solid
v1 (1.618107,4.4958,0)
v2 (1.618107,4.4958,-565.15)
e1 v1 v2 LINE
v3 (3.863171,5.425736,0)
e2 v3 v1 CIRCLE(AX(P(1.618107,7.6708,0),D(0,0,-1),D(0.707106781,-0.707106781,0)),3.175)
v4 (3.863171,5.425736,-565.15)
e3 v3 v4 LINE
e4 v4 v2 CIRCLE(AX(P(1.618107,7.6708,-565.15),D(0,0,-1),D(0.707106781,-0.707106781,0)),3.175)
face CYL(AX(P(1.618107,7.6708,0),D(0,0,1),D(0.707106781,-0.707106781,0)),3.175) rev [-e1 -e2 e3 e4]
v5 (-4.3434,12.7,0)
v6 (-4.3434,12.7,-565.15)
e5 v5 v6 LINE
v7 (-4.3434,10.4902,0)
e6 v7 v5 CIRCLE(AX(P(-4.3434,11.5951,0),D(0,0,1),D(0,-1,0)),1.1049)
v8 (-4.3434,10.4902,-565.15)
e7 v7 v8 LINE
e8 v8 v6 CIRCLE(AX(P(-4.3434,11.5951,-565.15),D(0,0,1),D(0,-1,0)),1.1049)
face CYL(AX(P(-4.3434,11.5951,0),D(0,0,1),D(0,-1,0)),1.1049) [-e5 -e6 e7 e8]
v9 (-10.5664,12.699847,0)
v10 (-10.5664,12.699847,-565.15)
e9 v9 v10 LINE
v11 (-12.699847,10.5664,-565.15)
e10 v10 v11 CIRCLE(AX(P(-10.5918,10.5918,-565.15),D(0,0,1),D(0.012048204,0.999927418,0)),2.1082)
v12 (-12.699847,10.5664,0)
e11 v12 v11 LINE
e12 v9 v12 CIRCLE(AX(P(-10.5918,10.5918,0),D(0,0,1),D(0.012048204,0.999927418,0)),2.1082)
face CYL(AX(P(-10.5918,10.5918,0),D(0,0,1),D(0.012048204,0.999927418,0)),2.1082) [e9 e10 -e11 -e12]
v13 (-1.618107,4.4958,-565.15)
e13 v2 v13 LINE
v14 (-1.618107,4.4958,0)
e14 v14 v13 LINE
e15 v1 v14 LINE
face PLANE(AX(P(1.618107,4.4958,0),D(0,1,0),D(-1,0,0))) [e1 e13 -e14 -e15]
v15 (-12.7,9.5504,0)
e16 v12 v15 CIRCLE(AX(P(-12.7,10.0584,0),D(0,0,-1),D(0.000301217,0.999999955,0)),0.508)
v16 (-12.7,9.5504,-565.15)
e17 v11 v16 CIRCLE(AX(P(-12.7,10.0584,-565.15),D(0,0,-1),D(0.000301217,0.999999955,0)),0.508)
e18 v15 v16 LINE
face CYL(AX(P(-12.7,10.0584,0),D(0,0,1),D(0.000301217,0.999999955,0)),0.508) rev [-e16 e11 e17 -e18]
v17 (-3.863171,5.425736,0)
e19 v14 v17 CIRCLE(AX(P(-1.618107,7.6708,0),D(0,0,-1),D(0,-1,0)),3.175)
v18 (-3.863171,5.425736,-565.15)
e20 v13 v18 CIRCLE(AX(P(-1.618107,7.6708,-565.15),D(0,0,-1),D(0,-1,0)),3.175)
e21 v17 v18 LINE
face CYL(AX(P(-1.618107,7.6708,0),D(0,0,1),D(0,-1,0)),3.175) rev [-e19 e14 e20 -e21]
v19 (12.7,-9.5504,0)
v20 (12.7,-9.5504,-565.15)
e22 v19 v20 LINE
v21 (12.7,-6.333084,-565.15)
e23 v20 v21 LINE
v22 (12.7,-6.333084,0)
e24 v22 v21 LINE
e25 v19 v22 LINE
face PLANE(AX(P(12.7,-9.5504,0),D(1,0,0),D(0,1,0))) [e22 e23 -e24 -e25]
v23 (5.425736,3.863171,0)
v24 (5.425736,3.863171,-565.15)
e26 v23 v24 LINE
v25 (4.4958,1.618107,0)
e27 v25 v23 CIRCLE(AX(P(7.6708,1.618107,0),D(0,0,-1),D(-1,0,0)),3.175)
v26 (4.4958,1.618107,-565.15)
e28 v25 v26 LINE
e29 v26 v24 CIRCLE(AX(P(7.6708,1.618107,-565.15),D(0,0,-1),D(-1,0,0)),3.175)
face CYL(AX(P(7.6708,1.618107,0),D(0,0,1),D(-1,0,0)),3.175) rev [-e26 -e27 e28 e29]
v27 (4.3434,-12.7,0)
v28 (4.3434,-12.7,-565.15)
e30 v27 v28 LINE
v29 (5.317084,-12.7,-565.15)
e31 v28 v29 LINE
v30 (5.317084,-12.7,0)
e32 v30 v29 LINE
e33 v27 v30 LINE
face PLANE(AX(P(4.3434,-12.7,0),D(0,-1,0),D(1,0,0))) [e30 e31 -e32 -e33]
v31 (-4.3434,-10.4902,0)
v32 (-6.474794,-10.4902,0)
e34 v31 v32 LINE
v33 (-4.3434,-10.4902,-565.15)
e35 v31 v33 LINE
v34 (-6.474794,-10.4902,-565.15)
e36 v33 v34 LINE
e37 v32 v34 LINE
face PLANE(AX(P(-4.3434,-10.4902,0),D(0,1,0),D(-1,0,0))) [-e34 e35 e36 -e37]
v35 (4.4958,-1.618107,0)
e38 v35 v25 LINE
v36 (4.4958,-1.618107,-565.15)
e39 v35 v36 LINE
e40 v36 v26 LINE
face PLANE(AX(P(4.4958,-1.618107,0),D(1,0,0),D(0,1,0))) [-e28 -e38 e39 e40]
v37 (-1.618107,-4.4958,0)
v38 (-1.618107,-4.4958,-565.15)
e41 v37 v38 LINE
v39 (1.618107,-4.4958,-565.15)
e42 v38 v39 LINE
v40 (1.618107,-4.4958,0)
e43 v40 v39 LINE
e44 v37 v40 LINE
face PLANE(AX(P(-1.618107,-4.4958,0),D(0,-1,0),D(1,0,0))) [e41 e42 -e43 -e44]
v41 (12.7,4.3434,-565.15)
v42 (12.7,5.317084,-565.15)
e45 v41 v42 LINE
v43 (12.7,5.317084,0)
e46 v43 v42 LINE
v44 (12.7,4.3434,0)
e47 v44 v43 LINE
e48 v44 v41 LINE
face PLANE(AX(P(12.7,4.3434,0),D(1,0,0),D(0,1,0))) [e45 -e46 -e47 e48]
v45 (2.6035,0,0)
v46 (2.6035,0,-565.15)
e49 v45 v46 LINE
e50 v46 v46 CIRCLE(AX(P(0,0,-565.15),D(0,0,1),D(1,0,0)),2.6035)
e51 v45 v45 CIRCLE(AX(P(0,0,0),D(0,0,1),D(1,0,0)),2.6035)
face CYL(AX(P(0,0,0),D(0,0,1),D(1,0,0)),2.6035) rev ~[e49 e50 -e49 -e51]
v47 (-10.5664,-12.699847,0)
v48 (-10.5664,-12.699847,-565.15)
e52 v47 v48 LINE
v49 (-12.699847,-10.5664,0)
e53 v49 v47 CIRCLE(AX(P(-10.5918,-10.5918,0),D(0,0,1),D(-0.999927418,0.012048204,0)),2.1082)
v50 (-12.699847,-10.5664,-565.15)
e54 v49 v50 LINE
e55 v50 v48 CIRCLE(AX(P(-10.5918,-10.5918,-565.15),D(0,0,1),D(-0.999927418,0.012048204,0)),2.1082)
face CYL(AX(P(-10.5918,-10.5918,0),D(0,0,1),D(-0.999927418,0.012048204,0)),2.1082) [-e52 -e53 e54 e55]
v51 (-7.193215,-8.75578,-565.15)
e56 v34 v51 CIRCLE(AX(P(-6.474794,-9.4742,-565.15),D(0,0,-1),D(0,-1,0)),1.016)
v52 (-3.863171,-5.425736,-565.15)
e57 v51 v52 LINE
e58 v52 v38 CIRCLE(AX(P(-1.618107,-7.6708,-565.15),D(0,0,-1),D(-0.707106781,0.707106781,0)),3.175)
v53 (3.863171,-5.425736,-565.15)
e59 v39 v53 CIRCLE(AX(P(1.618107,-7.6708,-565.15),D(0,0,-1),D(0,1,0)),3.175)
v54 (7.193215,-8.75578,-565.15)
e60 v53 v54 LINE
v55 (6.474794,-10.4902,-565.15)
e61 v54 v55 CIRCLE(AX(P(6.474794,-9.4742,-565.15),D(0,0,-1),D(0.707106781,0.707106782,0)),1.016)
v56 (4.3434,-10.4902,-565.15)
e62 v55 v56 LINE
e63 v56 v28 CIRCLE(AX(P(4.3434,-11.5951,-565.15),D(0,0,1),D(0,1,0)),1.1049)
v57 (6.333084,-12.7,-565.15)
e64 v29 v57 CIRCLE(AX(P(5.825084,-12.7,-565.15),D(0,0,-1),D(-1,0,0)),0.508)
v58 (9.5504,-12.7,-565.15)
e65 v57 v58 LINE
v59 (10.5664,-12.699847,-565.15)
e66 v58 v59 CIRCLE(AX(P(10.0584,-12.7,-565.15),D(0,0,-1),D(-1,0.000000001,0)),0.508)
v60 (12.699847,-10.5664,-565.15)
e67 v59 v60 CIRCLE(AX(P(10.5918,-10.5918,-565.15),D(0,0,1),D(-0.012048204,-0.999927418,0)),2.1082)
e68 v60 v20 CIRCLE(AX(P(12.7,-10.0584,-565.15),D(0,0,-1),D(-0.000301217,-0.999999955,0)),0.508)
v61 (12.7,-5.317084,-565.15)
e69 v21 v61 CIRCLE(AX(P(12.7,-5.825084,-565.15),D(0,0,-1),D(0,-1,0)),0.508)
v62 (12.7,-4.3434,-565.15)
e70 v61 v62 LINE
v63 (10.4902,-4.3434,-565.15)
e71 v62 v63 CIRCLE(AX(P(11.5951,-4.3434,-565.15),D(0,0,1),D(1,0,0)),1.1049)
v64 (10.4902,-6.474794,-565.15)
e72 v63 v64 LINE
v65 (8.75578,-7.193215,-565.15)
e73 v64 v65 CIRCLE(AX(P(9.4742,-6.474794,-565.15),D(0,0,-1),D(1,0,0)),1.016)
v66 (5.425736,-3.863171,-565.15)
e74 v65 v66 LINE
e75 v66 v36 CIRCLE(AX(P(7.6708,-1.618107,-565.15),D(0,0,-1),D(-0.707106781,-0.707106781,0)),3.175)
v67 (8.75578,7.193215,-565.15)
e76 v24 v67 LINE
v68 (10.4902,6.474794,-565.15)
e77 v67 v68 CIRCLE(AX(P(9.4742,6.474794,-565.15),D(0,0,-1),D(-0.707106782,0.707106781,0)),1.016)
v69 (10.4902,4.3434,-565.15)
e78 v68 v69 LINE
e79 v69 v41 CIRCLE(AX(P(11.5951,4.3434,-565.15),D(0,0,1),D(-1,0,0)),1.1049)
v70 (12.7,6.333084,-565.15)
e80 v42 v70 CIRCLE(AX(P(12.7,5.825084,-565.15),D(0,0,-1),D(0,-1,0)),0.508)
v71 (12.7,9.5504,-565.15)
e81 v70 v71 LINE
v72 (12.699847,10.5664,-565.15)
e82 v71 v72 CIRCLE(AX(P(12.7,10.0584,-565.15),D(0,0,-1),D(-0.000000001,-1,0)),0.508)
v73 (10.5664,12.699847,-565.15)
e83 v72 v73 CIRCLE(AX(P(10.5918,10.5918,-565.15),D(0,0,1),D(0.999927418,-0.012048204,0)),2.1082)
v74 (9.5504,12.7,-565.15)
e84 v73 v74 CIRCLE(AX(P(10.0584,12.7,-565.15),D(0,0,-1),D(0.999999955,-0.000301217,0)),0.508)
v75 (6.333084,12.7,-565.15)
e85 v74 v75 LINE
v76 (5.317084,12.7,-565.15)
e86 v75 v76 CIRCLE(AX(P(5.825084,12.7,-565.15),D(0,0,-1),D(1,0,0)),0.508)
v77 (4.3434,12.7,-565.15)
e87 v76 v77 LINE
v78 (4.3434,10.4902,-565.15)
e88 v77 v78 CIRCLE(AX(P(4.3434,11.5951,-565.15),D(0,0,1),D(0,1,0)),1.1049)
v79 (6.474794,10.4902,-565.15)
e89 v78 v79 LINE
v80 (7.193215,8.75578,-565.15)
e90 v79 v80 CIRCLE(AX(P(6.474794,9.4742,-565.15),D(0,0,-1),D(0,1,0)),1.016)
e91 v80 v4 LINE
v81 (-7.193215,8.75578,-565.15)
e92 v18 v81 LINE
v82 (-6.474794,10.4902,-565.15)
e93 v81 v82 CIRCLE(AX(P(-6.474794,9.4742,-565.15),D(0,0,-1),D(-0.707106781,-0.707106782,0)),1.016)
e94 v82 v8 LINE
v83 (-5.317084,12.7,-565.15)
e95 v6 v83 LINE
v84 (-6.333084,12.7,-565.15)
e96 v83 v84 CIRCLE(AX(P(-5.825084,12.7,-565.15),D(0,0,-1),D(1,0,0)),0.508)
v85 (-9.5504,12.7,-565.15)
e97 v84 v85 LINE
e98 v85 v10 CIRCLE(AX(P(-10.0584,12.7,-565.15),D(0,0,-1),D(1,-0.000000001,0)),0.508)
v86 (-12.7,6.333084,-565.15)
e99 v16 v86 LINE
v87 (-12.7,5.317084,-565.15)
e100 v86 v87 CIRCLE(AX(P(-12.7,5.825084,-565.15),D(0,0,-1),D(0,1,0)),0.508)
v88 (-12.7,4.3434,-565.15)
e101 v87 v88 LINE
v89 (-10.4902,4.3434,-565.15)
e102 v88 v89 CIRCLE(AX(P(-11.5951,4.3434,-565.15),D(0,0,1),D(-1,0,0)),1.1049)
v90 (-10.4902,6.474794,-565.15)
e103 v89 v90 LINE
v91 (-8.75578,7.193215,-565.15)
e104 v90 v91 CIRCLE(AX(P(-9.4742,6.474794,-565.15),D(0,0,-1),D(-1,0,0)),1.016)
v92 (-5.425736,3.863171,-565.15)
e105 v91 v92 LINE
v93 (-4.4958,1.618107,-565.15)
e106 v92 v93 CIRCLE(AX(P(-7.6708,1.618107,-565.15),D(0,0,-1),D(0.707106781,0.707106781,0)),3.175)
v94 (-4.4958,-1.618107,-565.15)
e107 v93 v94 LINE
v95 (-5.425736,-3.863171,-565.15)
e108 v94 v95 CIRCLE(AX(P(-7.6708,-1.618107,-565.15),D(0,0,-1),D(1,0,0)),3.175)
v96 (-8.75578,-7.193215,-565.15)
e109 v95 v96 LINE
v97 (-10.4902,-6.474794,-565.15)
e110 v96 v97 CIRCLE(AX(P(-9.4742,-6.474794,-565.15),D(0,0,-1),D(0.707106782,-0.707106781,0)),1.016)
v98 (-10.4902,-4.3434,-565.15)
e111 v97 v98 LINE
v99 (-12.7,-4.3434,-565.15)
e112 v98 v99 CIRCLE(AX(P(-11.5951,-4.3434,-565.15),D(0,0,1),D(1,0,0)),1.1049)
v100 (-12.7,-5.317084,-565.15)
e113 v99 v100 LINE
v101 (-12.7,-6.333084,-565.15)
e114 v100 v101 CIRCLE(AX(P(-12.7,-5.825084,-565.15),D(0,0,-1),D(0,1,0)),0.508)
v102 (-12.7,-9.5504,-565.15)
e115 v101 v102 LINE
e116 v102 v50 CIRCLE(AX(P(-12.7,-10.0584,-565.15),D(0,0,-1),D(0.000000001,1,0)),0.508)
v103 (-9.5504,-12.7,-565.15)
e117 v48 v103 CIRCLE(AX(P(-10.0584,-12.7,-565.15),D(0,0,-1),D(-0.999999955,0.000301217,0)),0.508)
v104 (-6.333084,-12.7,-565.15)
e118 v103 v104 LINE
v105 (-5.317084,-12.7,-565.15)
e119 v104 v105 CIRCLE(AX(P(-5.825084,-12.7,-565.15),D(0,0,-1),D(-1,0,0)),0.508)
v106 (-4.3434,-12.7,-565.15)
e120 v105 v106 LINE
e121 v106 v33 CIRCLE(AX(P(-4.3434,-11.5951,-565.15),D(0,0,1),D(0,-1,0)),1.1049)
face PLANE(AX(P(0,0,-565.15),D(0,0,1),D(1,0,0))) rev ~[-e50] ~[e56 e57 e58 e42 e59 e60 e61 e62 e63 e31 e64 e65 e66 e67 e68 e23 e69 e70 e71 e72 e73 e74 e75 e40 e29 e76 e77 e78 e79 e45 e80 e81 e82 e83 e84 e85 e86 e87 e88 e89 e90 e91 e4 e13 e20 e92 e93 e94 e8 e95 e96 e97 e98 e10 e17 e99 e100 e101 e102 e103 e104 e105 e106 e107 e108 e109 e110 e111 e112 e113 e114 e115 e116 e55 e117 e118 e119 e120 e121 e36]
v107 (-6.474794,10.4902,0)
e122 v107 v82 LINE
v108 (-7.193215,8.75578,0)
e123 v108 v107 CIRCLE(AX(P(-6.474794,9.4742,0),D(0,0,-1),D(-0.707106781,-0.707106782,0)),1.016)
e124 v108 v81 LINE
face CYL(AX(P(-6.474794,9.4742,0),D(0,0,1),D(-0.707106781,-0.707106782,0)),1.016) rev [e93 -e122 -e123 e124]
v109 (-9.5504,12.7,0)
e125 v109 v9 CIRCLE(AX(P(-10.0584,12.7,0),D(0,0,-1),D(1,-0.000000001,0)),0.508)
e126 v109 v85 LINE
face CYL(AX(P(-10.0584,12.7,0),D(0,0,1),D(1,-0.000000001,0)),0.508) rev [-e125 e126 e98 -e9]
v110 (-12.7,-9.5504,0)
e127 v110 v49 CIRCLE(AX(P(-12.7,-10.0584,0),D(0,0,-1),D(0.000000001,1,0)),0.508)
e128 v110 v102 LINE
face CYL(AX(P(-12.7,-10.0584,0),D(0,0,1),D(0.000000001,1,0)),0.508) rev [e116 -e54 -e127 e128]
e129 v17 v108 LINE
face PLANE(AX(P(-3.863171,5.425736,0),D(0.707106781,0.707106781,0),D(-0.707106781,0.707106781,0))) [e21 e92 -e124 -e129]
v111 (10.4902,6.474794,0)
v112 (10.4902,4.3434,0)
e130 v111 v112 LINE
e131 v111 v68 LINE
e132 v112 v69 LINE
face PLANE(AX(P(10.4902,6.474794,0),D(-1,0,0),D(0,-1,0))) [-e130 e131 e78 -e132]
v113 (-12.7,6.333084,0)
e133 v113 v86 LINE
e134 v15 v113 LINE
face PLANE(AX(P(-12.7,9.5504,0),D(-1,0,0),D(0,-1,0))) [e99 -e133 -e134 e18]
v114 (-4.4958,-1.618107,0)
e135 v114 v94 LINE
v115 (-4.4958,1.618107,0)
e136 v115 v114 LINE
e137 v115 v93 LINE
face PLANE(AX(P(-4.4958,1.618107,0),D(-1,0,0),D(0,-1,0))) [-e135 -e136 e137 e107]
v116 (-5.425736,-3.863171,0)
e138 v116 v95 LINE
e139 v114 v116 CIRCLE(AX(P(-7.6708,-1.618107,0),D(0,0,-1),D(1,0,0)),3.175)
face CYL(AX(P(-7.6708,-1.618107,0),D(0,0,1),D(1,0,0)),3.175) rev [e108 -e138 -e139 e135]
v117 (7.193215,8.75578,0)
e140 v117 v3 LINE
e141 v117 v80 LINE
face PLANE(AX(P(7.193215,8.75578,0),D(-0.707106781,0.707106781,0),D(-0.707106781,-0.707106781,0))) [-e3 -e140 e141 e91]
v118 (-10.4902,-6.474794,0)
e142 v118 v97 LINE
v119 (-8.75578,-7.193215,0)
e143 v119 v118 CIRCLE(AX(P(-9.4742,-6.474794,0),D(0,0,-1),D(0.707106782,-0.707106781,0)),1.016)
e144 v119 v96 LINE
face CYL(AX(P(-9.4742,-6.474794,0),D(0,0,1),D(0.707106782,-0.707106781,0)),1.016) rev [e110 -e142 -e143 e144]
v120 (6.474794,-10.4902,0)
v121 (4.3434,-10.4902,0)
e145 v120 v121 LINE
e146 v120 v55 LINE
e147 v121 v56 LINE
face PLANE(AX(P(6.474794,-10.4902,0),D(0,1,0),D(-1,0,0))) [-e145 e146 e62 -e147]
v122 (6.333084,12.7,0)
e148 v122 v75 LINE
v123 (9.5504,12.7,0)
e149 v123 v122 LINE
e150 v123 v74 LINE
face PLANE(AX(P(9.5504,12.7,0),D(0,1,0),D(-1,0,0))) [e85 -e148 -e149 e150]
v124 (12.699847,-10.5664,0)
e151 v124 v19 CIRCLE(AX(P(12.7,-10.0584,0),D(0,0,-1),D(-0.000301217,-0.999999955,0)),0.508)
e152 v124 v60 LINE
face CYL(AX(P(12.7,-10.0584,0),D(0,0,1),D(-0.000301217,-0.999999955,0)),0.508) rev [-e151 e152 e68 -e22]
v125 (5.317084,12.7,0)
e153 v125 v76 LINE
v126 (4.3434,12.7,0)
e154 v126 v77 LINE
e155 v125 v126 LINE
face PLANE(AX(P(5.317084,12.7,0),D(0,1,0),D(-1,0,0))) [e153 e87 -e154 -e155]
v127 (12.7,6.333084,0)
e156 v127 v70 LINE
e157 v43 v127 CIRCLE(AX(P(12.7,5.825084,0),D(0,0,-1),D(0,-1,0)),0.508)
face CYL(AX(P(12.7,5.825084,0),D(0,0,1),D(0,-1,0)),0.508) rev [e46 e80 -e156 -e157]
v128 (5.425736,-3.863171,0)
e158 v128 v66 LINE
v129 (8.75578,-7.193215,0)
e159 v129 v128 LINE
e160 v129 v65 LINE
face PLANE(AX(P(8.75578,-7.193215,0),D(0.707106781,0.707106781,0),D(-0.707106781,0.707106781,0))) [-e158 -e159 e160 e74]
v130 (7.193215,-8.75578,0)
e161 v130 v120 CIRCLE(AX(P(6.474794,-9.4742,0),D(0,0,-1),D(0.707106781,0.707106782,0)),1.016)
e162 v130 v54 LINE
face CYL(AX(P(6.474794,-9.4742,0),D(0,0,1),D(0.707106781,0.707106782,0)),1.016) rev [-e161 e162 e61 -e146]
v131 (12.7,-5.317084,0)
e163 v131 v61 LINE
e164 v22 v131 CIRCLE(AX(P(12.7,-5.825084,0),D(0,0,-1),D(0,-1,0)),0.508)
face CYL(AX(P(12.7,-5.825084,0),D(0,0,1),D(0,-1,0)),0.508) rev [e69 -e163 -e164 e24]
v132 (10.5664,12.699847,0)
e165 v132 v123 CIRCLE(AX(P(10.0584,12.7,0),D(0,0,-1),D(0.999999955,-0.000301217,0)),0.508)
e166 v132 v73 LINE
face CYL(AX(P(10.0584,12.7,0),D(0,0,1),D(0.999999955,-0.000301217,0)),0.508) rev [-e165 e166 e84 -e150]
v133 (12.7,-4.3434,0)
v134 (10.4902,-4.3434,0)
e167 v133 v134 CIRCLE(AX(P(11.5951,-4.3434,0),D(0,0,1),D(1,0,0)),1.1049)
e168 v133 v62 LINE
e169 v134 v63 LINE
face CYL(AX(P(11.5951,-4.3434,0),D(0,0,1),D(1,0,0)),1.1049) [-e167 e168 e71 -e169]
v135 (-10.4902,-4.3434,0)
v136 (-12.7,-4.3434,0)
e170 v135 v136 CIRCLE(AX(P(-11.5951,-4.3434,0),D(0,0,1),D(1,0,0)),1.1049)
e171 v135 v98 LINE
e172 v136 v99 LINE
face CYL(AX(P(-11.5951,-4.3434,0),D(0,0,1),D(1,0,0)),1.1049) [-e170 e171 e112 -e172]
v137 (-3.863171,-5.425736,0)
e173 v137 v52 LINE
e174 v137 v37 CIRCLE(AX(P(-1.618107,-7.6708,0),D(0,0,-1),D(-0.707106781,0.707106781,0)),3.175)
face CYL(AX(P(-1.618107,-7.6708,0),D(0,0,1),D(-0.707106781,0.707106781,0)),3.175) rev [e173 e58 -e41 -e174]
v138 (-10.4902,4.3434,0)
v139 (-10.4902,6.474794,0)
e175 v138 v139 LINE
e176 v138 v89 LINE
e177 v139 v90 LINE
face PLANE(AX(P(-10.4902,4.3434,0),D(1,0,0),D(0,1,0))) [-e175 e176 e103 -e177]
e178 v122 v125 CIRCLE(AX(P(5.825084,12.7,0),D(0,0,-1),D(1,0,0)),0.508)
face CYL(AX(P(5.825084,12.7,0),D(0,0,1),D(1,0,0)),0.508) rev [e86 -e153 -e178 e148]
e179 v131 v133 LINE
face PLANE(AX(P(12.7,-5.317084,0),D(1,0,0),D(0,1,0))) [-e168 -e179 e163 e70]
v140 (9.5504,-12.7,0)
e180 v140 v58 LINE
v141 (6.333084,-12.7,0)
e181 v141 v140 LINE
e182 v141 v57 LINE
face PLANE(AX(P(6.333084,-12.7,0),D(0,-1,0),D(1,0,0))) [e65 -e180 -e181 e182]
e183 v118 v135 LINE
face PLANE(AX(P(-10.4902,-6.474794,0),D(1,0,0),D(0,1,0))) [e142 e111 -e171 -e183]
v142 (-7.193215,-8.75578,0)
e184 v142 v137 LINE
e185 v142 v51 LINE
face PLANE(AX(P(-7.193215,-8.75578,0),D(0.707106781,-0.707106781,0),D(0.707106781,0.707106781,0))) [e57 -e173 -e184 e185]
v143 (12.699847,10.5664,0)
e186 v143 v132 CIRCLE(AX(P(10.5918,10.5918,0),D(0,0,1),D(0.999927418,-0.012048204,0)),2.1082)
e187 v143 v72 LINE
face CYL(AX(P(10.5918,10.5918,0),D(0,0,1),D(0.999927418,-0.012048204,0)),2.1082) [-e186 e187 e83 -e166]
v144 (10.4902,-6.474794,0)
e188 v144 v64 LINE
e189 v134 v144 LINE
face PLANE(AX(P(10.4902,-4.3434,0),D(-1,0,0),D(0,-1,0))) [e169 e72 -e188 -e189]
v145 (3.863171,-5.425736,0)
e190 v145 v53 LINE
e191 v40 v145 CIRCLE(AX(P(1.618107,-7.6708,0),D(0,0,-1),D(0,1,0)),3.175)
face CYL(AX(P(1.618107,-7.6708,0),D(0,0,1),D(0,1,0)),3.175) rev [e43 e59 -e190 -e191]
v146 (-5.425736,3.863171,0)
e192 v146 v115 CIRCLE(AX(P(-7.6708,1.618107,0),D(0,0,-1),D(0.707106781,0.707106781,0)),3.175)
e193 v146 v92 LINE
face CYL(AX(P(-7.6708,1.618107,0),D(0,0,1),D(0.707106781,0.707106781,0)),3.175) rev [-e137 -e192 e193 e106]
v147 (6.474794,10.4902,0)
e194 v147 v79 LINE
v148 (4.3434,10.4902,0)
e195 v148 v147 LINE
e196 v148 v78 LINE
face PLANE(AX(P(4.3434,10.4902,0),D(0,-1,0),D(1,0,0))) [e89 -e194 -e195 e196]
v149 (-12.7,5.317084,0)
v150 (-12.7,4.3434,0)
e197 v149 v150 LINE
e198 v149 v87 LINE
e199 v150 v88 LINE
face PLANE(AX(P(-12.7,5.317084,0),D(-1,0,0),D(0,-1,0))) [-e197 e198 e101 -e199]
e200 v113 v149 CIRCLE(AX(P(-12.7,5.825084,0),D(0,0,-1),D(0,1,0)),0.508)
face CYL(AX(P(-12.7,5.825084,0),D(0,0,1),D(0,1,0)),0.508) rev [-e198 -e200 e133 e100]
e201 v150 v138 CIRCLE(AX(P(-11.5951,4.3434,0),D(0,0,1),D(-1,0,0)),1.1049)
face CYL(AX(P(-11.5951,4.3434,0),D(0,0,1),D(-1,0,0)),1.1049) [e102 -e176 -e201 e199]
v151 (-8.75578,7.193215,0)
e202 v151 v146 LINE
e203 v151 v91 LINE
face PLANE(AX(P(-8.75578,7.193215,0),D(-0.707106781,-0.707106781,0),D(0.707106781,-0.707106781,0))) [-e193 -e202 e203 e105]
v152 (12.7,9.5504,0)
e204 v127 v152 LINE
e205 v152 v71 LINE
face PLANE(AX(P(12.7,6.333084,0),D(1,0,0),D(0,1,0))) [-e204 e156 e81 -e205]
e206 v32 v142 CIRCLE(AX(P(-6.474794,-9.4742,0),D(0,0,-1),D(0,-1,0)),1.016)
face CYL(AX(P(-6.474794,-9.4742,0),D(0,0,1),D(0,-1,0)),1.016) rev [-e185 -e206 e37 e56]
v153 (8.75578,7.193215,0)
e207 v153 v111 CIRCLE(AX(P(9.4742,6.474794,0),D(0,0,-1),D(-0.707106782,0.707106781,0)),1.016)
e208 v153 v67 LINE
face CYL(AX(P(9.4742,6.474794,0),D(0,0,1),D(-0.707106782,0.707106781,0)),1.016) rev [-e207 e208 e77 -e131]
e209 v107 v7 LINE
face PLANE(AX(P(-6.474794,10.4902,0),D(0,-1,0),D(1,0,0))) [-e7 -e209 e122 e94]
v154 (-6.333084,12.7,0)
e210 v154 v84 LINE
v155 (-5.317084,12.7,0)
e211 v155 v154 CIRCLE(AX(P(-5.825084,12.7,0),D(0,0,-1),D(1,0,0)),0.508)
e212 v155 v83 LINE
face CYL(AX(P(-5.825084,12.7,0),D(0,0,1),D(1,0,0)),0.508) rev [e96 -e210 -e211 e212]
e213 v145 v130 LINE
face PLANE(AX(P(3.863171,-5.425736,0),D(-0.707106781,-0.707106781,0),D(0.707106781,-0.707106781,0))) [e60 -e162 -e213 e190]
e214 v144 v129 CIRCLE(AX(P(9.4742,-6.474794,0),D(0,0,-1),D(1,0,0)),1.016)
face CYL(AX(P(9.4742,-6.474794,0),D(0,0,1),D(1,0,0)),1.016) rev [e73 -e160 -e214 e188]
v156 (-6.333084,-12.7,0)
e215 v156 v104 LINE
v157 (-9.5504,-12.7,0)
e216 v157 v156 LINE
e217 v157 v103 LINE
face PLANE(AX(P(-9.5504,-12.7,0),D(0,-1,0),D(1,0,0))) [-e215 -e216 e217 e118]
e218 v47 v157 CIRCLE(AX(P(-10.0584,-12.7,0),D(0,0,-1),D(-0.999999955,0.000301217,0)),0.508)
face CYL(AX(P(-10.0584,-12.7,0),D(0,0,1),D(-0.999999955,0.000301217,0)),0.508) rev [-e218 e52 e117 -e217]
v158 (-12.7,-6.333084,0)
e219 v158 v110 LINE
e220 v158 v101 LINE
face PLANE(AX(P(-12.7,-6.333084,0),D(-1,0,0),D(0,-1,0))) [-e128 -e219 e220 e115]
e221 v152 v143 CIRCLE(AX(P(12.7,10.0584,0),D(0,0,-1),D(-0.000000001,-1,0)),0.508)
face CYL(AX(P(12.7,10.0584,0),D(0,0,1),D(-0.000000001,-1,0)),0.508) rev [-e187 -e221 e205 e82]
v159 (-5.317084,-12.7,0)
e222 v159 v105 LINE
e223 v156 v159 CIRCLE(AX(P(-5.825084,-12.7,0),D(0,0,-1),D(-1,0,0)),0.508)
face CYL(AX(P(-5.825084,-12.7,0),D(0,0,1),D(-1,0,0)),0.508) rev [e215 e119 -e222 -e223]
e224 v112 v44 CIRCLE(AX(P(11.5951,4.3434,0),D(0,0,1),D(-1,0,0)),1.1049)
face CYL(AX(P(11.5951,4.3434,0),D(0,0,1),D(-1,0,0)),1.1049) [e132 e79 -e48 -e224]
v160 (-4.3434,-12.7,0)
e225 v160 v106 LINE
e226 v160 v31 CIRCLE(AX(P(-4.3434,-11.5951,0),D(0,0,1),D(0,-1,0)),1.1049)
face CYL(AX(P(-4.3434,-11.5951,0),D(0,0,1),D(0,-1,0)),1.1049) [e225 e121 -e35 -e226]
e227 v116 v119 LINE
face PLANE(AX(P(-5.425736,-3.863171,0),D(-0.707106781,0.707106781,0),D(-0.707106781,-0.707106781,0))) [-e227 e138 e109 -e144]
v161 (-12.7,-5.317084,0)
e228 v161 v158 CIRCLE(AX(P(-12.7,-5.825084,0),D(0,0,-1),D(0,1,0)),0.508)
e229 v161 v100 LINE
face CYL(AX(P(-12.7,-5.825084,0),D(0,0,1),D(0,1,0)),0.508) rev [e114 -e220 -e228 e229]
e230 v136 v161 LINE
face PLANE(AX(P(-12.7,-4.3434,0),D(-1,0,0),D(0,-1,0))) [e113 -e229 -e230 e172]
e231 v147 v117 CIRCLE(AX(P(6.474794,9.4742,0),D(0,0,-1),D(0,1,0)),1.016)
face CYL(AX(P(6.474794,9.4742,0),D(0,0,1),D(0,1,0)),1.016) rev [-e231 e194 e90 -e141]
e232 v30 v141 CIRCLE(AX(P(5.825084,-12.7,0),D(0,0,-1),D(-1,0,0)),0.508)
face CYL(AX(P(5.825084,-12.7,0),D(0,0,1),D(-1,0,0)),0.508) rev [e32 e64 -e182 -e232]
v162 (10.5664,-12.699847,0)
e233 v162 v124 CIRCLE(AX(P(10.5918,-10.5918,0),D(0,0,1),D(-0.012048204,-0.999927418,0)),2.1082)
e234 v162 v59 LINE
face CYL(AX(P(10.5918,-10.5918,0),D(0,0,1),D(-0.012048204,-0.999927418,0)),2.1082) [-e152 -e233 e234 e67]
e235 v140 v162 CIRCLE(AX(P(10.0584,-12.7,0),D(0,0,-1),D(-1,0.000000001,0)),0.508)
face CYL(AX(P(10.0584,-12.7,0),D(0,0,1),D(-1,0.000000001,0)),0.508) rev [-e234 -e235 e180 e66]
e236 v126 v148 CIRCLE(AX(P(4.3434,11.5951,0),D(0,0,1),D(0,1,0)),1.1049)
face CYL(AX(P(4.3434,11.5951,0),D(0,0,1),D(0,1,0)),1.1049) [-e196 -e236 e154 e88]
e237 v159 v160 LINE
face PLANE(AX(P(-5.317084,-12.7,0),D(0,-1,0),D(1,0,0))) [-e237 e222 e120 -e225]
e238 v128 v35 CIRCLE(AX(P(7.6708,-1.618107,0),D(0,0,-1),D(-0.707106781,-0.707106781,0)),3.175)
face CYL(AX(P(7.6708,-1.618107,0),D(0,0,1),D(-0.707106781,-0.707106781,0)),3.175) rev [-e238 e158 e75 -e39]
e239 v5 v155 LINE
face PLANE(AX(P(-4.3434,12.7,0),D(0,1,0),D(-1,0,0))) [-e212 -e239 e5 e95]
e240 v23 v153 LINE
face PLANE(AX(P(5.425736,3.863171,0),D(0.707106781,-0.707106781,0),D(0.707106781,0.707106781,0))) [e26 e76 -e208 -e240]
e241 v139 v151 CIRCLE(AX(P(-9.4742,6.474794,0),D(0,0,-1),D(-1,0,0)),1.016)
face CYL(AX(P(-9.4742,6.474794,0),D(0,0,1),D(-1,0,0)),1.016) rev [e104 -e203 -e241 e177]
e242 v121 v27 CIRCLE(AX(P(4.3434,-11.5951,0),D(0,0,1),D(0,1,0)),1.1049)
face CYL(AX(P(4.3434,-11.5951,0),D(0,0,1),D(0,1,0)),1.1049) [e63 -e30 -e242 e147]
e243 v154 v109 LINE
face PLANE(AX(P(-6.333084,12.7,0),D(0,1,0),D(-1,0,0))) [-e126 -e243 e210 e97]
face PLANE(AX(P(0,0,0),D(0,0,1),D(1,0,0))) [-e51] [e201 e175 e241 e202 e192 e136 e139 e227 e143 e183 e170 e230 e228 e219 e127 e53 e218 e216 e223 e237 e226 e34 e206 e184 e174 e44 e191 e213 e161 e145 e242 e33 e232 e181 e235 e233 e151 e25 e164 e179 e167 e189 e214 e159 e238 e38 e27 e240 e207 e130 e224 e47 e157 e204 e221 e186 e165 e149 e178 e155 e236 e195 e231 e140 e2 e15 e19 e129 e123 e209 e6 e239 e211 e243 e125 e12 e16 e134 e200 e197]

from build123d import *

# Parameters (mm, degrees)
SKETCH1_R           = 2.6035
BOSS_EXTRUDE1_DEPTH = 565.15


with BuildPart() as part:
    # Sketch1 → Boss-Extrude1 (new body)
    with BuildSketch(Plane.XY):
        with BuildLine():
            Line((-12.7, -6.3330836), (-12.7, -9.5504))
            ThreePointArc((-12.7, -9.5504), (-12.192000006, -10.058323491), (-12.699846982, -10.566399977))
            ThreePointArc((-12.699846982, -10.566399977), (-12.082522516, -12.082522516), (-10.566399977, -12.699846982))
            ThreePointArc((-10.566399977, -12.699846982), (-10.058323491, -12.192000006), (-9.5504, -12.7))
            Line((-9.5504, -12.7), (-6.3330836, -12.7))
            ThreePointArc((-6.3330836, -12.7), (-5.8250836, -12.192), (-5.3170836, -12.7))
            Line((-5.3170836, -12.7), (-4.343399971, -12.7))
            ThreePointArc((-4.343399971, -12.7), (-3.238499971, -11.5951), (-4.343399971, -10.4902))
            Line((-4.343399971, -10.4902), (-6.474794456, -10.4902))
            ThreePointArc((-6.474794456, -10.4902), (-7.413456061, -9.863006367), (-7.193214945, -8.75577951))
            Line((-7.193214945, -8.75577951), (-3.863171405, -5.42573597))
            ThreePointArc((-3.863171405, -5.42573597), (-2.833127272, -4.737482484), (-1.618107374, -4.4958))
            Line((-1.618107374, -4.4958), (1.618107374, -4.4958))
            ThreePointArc((1.618107374, -4.4958), (2.833127272, -4.737482484), (3.863171405, -5.42573597))
            Line((3.863171405, -5.42573597), (7.193214945, -8.75577951))
            ThreePointArc((7.193214945, -8.75577951), (7.413456061, -9.863006367), (6.474794456, -10.4902))
            Line((6.474794456, -10.4902), (4.3434, -10.4902))
            ThreePointArc((4.3434, -10.4902), (3.2385, -11.5951), (4.3434, -12.7))
            Line((4.3434, -12.7), (5.3170836, -12.7))
            ThreePointArc((5.3170836, -12.7), (5.8250836, -12.192), (6.3330836, -12.7))
            Line((6.3330836, -12.7), (9.5504, -12.7))
            ThreePointArc((9.5504, -12.7), (10.058323491, -12.192000006), (10.566399977, -12.699846982))
            ThreePointArc((10.566399977, -12.699846982), (12.082522516, -12.082522516), (12.699846982, -10.566399977))
            ThreePointArc((12.699846982, -10.566399977), (12.192000006, -10.058323491), (12.7, -9.5504))
            Line((12.7, -9.5504), (12.7, -6.3330836))
            ThreePointArc((12.7, -6.3330836), (12.192, -5.8250836), (12.7, -5.3170836))
            Line((12.7, -5.3170836), (12.7, -4.343399971))
            ThreePointArc((12.7, -4.343399971), (11.5951, -3.238499971), (10.4902, -4.343399971))
            Line((10.4902, -4.343399971), (10.4902, -6.474794456))
            ThreePointArc((10.4902, -6.474794456), (9.863006367, -7.413456061), (8.75577951, -7.193214945))
            Line((8.75577951, -7.193214945), (5.42573597, -3.863171405))
            ThreePointArc((5.42573597, -3.863171405), (4.737482484, -2.833127272), (4.4958, -1.618107374))
            Line((4.4958, -1.618107374), (4.4958, 1.618107374))
            ThreePointArc((4.4958, 1.618107374), (4.737482484, 2.833127272), (5.42573597, 3.863171405))
            Line((5.42573597, 3.863171405), (8.75577951, 7.193214945))
            ThreePointArc((8.75577951, 7.193214945), (9.863006367, 7.413456061), (10.4902, 6.474794456))
            Line((10.4902, 6.474794456), (10.4902, 4.3434))
            ThreePointArc((10.4902, 4.3434), (11.5951, 3.2385), (12.7, 4.3434))
            Line((12.7, 4.3434), (12.7, 5.3170836))
            ThreePointArc((12.7, 5.3170836), (12.192, 5.8250836), (12.7, 6.3330836))
            Line((12.7, 6.3330836), (12.7, 9.5504))
            ThreePointArc((12.7, 9.5504), (12.192000006, 10.058323491), (12.699846982, 10.566399977))
            ThreePointArc((12.699846982, 10.566399977), (12.082522516, 12.082522516), (10.566399977, 12.699846982))
            ThreePointArc((10.566399977, 12.699846982), (10.058323491, 12.192000006), (9.5504, 12.7))
            Line((9.5504, 12.7), (6.3330836, 12.7))
            ThreePointArc((6.3330836, 12.7), (5.8250836, 12.192), (5.3170836, 12.7))
            Line((5.3170836, 12.7), (4.343399971, 12.7))
            ThreePointArc((4.343399971, 12.7), (3.238499971, 11.5951), (4.343399971, 10.4902))
            Line((4.343399971, 10.4902), (6.474794456, 10.4902))
            ThreePointArc((6.474794456, 10.4902), (7.413456061, 9.863006367), (7.193214945, 8.75577951))
            Line((7.193214945, 8.75577951), (3.863171405, 5.42573597))
            ThreePointArc((3.863171405, 5.42573597), (2.833127272, 4.737482484), (1.618107374, 4.4958))
            Line((1.618107374, 4.4958), (-1.618107374, 4.4958))
            ThreePointArc((-1.618107374, 4.4958), (-2.833127272, 4.737482484), (-3.863171405, 5.42573597))
            Line((-3.863171405, 5.42573597), (-7.193214945, 8.75577951))
            ThreePointArc((-7.193214945, 8.75577951), (-7.413456061, 9.863006367), (-6.474794456, 10.4902))
            Line((-6.474794456, 10.4902), (-4.3434, 10.4902))
            ThreePointArc((-4.3434, 10.4902), (-3.2385, 11.5951), (-4.3434, 12.7))
            Line((-4.3434, 12.7), (-5.3170836, 12.7))
            ThreePointArc((-5.3170836, 12.7), (-5.8250836, 12.192), (-6.3330836, 12.7))
            Line((-6.3330836, 12.7), (-9.5504, 12.7))
            ThreePointArc((-9.5504, 12.7), (-10.058323491, 12.192000006), (-10.566399977, 12.699846982))
            ThreePointArc((-10.566399977, 12.699846982), (-12.082522516, 12.082522516), (-12.699846982, 10.566399977))
            ThreePointArc((-12.699846982, 10.566399977), (-12.192000006, 10.058323491), (-12.7, 9.5504))
            Line((-12.7, 9.5504), (-12.7, 6.3330836))
            ThreePointArc((-12.7, 6.3330836), (-12.192, 5.8250836), (-12.7, 5.3170836))
            Line((-12.7, 5.3170836), (-12.7, 4.343399971))
            ThreePointArc((-12.7, 4.343399971), (-11.5951, 3.238499971), (-10.4902, 4.343399971))
            Line((-10.4902, 4.343399971), (-10.4902, 6.474794456))
            ThreePointArc((-10.4902, 6.474794456), (-9.863006367, 7.413456061), (-8.75577951, 7.193214945))
            Line((-8.75577951, 7.193214945), (-5.42573597, 3.863171405))
            ThreePointArc((-5.42573597, 3.863171405), (-4.737482484, 2.833127272), (-4.4958, 1.618107374))
            Line((-4.4958, 1.618107374), (-4.4958, -1.618107374))
            ThreePointArc((-4.4958, -1.618107374), (-4.737482484, -2.833127272), (-5.42573597, -3.863171405))
            Line((-5.42573597, -3.863171405), (-8.75577951, -7.193214945))
            ThreePointArc((-8.75577951, -7.193214945), (-9.863006367, -7.413456061), (-10.4902, -6.474794456))
            Line((-10.4902, -6.474794456), (-10.4902, -4.3434))
            ThreePointArc((-10.4902, -4.3434), (-11.5951, -3.2385), (-12.7, -4.3434))
            Line((-12.7, -4.3434), (-12.7, -5.3170836))
            ThreePointArc((-12.7, -5.3170836), (-12.192, -5.8250836), (-12.7, -6.3330836))
        make_face()
        Circle(SKETCH1_R, mode=Mode.SUBTRACT)
    extrude(amount=-BOSS_EXTRUDE1_DEPTH)


solid = part.part
